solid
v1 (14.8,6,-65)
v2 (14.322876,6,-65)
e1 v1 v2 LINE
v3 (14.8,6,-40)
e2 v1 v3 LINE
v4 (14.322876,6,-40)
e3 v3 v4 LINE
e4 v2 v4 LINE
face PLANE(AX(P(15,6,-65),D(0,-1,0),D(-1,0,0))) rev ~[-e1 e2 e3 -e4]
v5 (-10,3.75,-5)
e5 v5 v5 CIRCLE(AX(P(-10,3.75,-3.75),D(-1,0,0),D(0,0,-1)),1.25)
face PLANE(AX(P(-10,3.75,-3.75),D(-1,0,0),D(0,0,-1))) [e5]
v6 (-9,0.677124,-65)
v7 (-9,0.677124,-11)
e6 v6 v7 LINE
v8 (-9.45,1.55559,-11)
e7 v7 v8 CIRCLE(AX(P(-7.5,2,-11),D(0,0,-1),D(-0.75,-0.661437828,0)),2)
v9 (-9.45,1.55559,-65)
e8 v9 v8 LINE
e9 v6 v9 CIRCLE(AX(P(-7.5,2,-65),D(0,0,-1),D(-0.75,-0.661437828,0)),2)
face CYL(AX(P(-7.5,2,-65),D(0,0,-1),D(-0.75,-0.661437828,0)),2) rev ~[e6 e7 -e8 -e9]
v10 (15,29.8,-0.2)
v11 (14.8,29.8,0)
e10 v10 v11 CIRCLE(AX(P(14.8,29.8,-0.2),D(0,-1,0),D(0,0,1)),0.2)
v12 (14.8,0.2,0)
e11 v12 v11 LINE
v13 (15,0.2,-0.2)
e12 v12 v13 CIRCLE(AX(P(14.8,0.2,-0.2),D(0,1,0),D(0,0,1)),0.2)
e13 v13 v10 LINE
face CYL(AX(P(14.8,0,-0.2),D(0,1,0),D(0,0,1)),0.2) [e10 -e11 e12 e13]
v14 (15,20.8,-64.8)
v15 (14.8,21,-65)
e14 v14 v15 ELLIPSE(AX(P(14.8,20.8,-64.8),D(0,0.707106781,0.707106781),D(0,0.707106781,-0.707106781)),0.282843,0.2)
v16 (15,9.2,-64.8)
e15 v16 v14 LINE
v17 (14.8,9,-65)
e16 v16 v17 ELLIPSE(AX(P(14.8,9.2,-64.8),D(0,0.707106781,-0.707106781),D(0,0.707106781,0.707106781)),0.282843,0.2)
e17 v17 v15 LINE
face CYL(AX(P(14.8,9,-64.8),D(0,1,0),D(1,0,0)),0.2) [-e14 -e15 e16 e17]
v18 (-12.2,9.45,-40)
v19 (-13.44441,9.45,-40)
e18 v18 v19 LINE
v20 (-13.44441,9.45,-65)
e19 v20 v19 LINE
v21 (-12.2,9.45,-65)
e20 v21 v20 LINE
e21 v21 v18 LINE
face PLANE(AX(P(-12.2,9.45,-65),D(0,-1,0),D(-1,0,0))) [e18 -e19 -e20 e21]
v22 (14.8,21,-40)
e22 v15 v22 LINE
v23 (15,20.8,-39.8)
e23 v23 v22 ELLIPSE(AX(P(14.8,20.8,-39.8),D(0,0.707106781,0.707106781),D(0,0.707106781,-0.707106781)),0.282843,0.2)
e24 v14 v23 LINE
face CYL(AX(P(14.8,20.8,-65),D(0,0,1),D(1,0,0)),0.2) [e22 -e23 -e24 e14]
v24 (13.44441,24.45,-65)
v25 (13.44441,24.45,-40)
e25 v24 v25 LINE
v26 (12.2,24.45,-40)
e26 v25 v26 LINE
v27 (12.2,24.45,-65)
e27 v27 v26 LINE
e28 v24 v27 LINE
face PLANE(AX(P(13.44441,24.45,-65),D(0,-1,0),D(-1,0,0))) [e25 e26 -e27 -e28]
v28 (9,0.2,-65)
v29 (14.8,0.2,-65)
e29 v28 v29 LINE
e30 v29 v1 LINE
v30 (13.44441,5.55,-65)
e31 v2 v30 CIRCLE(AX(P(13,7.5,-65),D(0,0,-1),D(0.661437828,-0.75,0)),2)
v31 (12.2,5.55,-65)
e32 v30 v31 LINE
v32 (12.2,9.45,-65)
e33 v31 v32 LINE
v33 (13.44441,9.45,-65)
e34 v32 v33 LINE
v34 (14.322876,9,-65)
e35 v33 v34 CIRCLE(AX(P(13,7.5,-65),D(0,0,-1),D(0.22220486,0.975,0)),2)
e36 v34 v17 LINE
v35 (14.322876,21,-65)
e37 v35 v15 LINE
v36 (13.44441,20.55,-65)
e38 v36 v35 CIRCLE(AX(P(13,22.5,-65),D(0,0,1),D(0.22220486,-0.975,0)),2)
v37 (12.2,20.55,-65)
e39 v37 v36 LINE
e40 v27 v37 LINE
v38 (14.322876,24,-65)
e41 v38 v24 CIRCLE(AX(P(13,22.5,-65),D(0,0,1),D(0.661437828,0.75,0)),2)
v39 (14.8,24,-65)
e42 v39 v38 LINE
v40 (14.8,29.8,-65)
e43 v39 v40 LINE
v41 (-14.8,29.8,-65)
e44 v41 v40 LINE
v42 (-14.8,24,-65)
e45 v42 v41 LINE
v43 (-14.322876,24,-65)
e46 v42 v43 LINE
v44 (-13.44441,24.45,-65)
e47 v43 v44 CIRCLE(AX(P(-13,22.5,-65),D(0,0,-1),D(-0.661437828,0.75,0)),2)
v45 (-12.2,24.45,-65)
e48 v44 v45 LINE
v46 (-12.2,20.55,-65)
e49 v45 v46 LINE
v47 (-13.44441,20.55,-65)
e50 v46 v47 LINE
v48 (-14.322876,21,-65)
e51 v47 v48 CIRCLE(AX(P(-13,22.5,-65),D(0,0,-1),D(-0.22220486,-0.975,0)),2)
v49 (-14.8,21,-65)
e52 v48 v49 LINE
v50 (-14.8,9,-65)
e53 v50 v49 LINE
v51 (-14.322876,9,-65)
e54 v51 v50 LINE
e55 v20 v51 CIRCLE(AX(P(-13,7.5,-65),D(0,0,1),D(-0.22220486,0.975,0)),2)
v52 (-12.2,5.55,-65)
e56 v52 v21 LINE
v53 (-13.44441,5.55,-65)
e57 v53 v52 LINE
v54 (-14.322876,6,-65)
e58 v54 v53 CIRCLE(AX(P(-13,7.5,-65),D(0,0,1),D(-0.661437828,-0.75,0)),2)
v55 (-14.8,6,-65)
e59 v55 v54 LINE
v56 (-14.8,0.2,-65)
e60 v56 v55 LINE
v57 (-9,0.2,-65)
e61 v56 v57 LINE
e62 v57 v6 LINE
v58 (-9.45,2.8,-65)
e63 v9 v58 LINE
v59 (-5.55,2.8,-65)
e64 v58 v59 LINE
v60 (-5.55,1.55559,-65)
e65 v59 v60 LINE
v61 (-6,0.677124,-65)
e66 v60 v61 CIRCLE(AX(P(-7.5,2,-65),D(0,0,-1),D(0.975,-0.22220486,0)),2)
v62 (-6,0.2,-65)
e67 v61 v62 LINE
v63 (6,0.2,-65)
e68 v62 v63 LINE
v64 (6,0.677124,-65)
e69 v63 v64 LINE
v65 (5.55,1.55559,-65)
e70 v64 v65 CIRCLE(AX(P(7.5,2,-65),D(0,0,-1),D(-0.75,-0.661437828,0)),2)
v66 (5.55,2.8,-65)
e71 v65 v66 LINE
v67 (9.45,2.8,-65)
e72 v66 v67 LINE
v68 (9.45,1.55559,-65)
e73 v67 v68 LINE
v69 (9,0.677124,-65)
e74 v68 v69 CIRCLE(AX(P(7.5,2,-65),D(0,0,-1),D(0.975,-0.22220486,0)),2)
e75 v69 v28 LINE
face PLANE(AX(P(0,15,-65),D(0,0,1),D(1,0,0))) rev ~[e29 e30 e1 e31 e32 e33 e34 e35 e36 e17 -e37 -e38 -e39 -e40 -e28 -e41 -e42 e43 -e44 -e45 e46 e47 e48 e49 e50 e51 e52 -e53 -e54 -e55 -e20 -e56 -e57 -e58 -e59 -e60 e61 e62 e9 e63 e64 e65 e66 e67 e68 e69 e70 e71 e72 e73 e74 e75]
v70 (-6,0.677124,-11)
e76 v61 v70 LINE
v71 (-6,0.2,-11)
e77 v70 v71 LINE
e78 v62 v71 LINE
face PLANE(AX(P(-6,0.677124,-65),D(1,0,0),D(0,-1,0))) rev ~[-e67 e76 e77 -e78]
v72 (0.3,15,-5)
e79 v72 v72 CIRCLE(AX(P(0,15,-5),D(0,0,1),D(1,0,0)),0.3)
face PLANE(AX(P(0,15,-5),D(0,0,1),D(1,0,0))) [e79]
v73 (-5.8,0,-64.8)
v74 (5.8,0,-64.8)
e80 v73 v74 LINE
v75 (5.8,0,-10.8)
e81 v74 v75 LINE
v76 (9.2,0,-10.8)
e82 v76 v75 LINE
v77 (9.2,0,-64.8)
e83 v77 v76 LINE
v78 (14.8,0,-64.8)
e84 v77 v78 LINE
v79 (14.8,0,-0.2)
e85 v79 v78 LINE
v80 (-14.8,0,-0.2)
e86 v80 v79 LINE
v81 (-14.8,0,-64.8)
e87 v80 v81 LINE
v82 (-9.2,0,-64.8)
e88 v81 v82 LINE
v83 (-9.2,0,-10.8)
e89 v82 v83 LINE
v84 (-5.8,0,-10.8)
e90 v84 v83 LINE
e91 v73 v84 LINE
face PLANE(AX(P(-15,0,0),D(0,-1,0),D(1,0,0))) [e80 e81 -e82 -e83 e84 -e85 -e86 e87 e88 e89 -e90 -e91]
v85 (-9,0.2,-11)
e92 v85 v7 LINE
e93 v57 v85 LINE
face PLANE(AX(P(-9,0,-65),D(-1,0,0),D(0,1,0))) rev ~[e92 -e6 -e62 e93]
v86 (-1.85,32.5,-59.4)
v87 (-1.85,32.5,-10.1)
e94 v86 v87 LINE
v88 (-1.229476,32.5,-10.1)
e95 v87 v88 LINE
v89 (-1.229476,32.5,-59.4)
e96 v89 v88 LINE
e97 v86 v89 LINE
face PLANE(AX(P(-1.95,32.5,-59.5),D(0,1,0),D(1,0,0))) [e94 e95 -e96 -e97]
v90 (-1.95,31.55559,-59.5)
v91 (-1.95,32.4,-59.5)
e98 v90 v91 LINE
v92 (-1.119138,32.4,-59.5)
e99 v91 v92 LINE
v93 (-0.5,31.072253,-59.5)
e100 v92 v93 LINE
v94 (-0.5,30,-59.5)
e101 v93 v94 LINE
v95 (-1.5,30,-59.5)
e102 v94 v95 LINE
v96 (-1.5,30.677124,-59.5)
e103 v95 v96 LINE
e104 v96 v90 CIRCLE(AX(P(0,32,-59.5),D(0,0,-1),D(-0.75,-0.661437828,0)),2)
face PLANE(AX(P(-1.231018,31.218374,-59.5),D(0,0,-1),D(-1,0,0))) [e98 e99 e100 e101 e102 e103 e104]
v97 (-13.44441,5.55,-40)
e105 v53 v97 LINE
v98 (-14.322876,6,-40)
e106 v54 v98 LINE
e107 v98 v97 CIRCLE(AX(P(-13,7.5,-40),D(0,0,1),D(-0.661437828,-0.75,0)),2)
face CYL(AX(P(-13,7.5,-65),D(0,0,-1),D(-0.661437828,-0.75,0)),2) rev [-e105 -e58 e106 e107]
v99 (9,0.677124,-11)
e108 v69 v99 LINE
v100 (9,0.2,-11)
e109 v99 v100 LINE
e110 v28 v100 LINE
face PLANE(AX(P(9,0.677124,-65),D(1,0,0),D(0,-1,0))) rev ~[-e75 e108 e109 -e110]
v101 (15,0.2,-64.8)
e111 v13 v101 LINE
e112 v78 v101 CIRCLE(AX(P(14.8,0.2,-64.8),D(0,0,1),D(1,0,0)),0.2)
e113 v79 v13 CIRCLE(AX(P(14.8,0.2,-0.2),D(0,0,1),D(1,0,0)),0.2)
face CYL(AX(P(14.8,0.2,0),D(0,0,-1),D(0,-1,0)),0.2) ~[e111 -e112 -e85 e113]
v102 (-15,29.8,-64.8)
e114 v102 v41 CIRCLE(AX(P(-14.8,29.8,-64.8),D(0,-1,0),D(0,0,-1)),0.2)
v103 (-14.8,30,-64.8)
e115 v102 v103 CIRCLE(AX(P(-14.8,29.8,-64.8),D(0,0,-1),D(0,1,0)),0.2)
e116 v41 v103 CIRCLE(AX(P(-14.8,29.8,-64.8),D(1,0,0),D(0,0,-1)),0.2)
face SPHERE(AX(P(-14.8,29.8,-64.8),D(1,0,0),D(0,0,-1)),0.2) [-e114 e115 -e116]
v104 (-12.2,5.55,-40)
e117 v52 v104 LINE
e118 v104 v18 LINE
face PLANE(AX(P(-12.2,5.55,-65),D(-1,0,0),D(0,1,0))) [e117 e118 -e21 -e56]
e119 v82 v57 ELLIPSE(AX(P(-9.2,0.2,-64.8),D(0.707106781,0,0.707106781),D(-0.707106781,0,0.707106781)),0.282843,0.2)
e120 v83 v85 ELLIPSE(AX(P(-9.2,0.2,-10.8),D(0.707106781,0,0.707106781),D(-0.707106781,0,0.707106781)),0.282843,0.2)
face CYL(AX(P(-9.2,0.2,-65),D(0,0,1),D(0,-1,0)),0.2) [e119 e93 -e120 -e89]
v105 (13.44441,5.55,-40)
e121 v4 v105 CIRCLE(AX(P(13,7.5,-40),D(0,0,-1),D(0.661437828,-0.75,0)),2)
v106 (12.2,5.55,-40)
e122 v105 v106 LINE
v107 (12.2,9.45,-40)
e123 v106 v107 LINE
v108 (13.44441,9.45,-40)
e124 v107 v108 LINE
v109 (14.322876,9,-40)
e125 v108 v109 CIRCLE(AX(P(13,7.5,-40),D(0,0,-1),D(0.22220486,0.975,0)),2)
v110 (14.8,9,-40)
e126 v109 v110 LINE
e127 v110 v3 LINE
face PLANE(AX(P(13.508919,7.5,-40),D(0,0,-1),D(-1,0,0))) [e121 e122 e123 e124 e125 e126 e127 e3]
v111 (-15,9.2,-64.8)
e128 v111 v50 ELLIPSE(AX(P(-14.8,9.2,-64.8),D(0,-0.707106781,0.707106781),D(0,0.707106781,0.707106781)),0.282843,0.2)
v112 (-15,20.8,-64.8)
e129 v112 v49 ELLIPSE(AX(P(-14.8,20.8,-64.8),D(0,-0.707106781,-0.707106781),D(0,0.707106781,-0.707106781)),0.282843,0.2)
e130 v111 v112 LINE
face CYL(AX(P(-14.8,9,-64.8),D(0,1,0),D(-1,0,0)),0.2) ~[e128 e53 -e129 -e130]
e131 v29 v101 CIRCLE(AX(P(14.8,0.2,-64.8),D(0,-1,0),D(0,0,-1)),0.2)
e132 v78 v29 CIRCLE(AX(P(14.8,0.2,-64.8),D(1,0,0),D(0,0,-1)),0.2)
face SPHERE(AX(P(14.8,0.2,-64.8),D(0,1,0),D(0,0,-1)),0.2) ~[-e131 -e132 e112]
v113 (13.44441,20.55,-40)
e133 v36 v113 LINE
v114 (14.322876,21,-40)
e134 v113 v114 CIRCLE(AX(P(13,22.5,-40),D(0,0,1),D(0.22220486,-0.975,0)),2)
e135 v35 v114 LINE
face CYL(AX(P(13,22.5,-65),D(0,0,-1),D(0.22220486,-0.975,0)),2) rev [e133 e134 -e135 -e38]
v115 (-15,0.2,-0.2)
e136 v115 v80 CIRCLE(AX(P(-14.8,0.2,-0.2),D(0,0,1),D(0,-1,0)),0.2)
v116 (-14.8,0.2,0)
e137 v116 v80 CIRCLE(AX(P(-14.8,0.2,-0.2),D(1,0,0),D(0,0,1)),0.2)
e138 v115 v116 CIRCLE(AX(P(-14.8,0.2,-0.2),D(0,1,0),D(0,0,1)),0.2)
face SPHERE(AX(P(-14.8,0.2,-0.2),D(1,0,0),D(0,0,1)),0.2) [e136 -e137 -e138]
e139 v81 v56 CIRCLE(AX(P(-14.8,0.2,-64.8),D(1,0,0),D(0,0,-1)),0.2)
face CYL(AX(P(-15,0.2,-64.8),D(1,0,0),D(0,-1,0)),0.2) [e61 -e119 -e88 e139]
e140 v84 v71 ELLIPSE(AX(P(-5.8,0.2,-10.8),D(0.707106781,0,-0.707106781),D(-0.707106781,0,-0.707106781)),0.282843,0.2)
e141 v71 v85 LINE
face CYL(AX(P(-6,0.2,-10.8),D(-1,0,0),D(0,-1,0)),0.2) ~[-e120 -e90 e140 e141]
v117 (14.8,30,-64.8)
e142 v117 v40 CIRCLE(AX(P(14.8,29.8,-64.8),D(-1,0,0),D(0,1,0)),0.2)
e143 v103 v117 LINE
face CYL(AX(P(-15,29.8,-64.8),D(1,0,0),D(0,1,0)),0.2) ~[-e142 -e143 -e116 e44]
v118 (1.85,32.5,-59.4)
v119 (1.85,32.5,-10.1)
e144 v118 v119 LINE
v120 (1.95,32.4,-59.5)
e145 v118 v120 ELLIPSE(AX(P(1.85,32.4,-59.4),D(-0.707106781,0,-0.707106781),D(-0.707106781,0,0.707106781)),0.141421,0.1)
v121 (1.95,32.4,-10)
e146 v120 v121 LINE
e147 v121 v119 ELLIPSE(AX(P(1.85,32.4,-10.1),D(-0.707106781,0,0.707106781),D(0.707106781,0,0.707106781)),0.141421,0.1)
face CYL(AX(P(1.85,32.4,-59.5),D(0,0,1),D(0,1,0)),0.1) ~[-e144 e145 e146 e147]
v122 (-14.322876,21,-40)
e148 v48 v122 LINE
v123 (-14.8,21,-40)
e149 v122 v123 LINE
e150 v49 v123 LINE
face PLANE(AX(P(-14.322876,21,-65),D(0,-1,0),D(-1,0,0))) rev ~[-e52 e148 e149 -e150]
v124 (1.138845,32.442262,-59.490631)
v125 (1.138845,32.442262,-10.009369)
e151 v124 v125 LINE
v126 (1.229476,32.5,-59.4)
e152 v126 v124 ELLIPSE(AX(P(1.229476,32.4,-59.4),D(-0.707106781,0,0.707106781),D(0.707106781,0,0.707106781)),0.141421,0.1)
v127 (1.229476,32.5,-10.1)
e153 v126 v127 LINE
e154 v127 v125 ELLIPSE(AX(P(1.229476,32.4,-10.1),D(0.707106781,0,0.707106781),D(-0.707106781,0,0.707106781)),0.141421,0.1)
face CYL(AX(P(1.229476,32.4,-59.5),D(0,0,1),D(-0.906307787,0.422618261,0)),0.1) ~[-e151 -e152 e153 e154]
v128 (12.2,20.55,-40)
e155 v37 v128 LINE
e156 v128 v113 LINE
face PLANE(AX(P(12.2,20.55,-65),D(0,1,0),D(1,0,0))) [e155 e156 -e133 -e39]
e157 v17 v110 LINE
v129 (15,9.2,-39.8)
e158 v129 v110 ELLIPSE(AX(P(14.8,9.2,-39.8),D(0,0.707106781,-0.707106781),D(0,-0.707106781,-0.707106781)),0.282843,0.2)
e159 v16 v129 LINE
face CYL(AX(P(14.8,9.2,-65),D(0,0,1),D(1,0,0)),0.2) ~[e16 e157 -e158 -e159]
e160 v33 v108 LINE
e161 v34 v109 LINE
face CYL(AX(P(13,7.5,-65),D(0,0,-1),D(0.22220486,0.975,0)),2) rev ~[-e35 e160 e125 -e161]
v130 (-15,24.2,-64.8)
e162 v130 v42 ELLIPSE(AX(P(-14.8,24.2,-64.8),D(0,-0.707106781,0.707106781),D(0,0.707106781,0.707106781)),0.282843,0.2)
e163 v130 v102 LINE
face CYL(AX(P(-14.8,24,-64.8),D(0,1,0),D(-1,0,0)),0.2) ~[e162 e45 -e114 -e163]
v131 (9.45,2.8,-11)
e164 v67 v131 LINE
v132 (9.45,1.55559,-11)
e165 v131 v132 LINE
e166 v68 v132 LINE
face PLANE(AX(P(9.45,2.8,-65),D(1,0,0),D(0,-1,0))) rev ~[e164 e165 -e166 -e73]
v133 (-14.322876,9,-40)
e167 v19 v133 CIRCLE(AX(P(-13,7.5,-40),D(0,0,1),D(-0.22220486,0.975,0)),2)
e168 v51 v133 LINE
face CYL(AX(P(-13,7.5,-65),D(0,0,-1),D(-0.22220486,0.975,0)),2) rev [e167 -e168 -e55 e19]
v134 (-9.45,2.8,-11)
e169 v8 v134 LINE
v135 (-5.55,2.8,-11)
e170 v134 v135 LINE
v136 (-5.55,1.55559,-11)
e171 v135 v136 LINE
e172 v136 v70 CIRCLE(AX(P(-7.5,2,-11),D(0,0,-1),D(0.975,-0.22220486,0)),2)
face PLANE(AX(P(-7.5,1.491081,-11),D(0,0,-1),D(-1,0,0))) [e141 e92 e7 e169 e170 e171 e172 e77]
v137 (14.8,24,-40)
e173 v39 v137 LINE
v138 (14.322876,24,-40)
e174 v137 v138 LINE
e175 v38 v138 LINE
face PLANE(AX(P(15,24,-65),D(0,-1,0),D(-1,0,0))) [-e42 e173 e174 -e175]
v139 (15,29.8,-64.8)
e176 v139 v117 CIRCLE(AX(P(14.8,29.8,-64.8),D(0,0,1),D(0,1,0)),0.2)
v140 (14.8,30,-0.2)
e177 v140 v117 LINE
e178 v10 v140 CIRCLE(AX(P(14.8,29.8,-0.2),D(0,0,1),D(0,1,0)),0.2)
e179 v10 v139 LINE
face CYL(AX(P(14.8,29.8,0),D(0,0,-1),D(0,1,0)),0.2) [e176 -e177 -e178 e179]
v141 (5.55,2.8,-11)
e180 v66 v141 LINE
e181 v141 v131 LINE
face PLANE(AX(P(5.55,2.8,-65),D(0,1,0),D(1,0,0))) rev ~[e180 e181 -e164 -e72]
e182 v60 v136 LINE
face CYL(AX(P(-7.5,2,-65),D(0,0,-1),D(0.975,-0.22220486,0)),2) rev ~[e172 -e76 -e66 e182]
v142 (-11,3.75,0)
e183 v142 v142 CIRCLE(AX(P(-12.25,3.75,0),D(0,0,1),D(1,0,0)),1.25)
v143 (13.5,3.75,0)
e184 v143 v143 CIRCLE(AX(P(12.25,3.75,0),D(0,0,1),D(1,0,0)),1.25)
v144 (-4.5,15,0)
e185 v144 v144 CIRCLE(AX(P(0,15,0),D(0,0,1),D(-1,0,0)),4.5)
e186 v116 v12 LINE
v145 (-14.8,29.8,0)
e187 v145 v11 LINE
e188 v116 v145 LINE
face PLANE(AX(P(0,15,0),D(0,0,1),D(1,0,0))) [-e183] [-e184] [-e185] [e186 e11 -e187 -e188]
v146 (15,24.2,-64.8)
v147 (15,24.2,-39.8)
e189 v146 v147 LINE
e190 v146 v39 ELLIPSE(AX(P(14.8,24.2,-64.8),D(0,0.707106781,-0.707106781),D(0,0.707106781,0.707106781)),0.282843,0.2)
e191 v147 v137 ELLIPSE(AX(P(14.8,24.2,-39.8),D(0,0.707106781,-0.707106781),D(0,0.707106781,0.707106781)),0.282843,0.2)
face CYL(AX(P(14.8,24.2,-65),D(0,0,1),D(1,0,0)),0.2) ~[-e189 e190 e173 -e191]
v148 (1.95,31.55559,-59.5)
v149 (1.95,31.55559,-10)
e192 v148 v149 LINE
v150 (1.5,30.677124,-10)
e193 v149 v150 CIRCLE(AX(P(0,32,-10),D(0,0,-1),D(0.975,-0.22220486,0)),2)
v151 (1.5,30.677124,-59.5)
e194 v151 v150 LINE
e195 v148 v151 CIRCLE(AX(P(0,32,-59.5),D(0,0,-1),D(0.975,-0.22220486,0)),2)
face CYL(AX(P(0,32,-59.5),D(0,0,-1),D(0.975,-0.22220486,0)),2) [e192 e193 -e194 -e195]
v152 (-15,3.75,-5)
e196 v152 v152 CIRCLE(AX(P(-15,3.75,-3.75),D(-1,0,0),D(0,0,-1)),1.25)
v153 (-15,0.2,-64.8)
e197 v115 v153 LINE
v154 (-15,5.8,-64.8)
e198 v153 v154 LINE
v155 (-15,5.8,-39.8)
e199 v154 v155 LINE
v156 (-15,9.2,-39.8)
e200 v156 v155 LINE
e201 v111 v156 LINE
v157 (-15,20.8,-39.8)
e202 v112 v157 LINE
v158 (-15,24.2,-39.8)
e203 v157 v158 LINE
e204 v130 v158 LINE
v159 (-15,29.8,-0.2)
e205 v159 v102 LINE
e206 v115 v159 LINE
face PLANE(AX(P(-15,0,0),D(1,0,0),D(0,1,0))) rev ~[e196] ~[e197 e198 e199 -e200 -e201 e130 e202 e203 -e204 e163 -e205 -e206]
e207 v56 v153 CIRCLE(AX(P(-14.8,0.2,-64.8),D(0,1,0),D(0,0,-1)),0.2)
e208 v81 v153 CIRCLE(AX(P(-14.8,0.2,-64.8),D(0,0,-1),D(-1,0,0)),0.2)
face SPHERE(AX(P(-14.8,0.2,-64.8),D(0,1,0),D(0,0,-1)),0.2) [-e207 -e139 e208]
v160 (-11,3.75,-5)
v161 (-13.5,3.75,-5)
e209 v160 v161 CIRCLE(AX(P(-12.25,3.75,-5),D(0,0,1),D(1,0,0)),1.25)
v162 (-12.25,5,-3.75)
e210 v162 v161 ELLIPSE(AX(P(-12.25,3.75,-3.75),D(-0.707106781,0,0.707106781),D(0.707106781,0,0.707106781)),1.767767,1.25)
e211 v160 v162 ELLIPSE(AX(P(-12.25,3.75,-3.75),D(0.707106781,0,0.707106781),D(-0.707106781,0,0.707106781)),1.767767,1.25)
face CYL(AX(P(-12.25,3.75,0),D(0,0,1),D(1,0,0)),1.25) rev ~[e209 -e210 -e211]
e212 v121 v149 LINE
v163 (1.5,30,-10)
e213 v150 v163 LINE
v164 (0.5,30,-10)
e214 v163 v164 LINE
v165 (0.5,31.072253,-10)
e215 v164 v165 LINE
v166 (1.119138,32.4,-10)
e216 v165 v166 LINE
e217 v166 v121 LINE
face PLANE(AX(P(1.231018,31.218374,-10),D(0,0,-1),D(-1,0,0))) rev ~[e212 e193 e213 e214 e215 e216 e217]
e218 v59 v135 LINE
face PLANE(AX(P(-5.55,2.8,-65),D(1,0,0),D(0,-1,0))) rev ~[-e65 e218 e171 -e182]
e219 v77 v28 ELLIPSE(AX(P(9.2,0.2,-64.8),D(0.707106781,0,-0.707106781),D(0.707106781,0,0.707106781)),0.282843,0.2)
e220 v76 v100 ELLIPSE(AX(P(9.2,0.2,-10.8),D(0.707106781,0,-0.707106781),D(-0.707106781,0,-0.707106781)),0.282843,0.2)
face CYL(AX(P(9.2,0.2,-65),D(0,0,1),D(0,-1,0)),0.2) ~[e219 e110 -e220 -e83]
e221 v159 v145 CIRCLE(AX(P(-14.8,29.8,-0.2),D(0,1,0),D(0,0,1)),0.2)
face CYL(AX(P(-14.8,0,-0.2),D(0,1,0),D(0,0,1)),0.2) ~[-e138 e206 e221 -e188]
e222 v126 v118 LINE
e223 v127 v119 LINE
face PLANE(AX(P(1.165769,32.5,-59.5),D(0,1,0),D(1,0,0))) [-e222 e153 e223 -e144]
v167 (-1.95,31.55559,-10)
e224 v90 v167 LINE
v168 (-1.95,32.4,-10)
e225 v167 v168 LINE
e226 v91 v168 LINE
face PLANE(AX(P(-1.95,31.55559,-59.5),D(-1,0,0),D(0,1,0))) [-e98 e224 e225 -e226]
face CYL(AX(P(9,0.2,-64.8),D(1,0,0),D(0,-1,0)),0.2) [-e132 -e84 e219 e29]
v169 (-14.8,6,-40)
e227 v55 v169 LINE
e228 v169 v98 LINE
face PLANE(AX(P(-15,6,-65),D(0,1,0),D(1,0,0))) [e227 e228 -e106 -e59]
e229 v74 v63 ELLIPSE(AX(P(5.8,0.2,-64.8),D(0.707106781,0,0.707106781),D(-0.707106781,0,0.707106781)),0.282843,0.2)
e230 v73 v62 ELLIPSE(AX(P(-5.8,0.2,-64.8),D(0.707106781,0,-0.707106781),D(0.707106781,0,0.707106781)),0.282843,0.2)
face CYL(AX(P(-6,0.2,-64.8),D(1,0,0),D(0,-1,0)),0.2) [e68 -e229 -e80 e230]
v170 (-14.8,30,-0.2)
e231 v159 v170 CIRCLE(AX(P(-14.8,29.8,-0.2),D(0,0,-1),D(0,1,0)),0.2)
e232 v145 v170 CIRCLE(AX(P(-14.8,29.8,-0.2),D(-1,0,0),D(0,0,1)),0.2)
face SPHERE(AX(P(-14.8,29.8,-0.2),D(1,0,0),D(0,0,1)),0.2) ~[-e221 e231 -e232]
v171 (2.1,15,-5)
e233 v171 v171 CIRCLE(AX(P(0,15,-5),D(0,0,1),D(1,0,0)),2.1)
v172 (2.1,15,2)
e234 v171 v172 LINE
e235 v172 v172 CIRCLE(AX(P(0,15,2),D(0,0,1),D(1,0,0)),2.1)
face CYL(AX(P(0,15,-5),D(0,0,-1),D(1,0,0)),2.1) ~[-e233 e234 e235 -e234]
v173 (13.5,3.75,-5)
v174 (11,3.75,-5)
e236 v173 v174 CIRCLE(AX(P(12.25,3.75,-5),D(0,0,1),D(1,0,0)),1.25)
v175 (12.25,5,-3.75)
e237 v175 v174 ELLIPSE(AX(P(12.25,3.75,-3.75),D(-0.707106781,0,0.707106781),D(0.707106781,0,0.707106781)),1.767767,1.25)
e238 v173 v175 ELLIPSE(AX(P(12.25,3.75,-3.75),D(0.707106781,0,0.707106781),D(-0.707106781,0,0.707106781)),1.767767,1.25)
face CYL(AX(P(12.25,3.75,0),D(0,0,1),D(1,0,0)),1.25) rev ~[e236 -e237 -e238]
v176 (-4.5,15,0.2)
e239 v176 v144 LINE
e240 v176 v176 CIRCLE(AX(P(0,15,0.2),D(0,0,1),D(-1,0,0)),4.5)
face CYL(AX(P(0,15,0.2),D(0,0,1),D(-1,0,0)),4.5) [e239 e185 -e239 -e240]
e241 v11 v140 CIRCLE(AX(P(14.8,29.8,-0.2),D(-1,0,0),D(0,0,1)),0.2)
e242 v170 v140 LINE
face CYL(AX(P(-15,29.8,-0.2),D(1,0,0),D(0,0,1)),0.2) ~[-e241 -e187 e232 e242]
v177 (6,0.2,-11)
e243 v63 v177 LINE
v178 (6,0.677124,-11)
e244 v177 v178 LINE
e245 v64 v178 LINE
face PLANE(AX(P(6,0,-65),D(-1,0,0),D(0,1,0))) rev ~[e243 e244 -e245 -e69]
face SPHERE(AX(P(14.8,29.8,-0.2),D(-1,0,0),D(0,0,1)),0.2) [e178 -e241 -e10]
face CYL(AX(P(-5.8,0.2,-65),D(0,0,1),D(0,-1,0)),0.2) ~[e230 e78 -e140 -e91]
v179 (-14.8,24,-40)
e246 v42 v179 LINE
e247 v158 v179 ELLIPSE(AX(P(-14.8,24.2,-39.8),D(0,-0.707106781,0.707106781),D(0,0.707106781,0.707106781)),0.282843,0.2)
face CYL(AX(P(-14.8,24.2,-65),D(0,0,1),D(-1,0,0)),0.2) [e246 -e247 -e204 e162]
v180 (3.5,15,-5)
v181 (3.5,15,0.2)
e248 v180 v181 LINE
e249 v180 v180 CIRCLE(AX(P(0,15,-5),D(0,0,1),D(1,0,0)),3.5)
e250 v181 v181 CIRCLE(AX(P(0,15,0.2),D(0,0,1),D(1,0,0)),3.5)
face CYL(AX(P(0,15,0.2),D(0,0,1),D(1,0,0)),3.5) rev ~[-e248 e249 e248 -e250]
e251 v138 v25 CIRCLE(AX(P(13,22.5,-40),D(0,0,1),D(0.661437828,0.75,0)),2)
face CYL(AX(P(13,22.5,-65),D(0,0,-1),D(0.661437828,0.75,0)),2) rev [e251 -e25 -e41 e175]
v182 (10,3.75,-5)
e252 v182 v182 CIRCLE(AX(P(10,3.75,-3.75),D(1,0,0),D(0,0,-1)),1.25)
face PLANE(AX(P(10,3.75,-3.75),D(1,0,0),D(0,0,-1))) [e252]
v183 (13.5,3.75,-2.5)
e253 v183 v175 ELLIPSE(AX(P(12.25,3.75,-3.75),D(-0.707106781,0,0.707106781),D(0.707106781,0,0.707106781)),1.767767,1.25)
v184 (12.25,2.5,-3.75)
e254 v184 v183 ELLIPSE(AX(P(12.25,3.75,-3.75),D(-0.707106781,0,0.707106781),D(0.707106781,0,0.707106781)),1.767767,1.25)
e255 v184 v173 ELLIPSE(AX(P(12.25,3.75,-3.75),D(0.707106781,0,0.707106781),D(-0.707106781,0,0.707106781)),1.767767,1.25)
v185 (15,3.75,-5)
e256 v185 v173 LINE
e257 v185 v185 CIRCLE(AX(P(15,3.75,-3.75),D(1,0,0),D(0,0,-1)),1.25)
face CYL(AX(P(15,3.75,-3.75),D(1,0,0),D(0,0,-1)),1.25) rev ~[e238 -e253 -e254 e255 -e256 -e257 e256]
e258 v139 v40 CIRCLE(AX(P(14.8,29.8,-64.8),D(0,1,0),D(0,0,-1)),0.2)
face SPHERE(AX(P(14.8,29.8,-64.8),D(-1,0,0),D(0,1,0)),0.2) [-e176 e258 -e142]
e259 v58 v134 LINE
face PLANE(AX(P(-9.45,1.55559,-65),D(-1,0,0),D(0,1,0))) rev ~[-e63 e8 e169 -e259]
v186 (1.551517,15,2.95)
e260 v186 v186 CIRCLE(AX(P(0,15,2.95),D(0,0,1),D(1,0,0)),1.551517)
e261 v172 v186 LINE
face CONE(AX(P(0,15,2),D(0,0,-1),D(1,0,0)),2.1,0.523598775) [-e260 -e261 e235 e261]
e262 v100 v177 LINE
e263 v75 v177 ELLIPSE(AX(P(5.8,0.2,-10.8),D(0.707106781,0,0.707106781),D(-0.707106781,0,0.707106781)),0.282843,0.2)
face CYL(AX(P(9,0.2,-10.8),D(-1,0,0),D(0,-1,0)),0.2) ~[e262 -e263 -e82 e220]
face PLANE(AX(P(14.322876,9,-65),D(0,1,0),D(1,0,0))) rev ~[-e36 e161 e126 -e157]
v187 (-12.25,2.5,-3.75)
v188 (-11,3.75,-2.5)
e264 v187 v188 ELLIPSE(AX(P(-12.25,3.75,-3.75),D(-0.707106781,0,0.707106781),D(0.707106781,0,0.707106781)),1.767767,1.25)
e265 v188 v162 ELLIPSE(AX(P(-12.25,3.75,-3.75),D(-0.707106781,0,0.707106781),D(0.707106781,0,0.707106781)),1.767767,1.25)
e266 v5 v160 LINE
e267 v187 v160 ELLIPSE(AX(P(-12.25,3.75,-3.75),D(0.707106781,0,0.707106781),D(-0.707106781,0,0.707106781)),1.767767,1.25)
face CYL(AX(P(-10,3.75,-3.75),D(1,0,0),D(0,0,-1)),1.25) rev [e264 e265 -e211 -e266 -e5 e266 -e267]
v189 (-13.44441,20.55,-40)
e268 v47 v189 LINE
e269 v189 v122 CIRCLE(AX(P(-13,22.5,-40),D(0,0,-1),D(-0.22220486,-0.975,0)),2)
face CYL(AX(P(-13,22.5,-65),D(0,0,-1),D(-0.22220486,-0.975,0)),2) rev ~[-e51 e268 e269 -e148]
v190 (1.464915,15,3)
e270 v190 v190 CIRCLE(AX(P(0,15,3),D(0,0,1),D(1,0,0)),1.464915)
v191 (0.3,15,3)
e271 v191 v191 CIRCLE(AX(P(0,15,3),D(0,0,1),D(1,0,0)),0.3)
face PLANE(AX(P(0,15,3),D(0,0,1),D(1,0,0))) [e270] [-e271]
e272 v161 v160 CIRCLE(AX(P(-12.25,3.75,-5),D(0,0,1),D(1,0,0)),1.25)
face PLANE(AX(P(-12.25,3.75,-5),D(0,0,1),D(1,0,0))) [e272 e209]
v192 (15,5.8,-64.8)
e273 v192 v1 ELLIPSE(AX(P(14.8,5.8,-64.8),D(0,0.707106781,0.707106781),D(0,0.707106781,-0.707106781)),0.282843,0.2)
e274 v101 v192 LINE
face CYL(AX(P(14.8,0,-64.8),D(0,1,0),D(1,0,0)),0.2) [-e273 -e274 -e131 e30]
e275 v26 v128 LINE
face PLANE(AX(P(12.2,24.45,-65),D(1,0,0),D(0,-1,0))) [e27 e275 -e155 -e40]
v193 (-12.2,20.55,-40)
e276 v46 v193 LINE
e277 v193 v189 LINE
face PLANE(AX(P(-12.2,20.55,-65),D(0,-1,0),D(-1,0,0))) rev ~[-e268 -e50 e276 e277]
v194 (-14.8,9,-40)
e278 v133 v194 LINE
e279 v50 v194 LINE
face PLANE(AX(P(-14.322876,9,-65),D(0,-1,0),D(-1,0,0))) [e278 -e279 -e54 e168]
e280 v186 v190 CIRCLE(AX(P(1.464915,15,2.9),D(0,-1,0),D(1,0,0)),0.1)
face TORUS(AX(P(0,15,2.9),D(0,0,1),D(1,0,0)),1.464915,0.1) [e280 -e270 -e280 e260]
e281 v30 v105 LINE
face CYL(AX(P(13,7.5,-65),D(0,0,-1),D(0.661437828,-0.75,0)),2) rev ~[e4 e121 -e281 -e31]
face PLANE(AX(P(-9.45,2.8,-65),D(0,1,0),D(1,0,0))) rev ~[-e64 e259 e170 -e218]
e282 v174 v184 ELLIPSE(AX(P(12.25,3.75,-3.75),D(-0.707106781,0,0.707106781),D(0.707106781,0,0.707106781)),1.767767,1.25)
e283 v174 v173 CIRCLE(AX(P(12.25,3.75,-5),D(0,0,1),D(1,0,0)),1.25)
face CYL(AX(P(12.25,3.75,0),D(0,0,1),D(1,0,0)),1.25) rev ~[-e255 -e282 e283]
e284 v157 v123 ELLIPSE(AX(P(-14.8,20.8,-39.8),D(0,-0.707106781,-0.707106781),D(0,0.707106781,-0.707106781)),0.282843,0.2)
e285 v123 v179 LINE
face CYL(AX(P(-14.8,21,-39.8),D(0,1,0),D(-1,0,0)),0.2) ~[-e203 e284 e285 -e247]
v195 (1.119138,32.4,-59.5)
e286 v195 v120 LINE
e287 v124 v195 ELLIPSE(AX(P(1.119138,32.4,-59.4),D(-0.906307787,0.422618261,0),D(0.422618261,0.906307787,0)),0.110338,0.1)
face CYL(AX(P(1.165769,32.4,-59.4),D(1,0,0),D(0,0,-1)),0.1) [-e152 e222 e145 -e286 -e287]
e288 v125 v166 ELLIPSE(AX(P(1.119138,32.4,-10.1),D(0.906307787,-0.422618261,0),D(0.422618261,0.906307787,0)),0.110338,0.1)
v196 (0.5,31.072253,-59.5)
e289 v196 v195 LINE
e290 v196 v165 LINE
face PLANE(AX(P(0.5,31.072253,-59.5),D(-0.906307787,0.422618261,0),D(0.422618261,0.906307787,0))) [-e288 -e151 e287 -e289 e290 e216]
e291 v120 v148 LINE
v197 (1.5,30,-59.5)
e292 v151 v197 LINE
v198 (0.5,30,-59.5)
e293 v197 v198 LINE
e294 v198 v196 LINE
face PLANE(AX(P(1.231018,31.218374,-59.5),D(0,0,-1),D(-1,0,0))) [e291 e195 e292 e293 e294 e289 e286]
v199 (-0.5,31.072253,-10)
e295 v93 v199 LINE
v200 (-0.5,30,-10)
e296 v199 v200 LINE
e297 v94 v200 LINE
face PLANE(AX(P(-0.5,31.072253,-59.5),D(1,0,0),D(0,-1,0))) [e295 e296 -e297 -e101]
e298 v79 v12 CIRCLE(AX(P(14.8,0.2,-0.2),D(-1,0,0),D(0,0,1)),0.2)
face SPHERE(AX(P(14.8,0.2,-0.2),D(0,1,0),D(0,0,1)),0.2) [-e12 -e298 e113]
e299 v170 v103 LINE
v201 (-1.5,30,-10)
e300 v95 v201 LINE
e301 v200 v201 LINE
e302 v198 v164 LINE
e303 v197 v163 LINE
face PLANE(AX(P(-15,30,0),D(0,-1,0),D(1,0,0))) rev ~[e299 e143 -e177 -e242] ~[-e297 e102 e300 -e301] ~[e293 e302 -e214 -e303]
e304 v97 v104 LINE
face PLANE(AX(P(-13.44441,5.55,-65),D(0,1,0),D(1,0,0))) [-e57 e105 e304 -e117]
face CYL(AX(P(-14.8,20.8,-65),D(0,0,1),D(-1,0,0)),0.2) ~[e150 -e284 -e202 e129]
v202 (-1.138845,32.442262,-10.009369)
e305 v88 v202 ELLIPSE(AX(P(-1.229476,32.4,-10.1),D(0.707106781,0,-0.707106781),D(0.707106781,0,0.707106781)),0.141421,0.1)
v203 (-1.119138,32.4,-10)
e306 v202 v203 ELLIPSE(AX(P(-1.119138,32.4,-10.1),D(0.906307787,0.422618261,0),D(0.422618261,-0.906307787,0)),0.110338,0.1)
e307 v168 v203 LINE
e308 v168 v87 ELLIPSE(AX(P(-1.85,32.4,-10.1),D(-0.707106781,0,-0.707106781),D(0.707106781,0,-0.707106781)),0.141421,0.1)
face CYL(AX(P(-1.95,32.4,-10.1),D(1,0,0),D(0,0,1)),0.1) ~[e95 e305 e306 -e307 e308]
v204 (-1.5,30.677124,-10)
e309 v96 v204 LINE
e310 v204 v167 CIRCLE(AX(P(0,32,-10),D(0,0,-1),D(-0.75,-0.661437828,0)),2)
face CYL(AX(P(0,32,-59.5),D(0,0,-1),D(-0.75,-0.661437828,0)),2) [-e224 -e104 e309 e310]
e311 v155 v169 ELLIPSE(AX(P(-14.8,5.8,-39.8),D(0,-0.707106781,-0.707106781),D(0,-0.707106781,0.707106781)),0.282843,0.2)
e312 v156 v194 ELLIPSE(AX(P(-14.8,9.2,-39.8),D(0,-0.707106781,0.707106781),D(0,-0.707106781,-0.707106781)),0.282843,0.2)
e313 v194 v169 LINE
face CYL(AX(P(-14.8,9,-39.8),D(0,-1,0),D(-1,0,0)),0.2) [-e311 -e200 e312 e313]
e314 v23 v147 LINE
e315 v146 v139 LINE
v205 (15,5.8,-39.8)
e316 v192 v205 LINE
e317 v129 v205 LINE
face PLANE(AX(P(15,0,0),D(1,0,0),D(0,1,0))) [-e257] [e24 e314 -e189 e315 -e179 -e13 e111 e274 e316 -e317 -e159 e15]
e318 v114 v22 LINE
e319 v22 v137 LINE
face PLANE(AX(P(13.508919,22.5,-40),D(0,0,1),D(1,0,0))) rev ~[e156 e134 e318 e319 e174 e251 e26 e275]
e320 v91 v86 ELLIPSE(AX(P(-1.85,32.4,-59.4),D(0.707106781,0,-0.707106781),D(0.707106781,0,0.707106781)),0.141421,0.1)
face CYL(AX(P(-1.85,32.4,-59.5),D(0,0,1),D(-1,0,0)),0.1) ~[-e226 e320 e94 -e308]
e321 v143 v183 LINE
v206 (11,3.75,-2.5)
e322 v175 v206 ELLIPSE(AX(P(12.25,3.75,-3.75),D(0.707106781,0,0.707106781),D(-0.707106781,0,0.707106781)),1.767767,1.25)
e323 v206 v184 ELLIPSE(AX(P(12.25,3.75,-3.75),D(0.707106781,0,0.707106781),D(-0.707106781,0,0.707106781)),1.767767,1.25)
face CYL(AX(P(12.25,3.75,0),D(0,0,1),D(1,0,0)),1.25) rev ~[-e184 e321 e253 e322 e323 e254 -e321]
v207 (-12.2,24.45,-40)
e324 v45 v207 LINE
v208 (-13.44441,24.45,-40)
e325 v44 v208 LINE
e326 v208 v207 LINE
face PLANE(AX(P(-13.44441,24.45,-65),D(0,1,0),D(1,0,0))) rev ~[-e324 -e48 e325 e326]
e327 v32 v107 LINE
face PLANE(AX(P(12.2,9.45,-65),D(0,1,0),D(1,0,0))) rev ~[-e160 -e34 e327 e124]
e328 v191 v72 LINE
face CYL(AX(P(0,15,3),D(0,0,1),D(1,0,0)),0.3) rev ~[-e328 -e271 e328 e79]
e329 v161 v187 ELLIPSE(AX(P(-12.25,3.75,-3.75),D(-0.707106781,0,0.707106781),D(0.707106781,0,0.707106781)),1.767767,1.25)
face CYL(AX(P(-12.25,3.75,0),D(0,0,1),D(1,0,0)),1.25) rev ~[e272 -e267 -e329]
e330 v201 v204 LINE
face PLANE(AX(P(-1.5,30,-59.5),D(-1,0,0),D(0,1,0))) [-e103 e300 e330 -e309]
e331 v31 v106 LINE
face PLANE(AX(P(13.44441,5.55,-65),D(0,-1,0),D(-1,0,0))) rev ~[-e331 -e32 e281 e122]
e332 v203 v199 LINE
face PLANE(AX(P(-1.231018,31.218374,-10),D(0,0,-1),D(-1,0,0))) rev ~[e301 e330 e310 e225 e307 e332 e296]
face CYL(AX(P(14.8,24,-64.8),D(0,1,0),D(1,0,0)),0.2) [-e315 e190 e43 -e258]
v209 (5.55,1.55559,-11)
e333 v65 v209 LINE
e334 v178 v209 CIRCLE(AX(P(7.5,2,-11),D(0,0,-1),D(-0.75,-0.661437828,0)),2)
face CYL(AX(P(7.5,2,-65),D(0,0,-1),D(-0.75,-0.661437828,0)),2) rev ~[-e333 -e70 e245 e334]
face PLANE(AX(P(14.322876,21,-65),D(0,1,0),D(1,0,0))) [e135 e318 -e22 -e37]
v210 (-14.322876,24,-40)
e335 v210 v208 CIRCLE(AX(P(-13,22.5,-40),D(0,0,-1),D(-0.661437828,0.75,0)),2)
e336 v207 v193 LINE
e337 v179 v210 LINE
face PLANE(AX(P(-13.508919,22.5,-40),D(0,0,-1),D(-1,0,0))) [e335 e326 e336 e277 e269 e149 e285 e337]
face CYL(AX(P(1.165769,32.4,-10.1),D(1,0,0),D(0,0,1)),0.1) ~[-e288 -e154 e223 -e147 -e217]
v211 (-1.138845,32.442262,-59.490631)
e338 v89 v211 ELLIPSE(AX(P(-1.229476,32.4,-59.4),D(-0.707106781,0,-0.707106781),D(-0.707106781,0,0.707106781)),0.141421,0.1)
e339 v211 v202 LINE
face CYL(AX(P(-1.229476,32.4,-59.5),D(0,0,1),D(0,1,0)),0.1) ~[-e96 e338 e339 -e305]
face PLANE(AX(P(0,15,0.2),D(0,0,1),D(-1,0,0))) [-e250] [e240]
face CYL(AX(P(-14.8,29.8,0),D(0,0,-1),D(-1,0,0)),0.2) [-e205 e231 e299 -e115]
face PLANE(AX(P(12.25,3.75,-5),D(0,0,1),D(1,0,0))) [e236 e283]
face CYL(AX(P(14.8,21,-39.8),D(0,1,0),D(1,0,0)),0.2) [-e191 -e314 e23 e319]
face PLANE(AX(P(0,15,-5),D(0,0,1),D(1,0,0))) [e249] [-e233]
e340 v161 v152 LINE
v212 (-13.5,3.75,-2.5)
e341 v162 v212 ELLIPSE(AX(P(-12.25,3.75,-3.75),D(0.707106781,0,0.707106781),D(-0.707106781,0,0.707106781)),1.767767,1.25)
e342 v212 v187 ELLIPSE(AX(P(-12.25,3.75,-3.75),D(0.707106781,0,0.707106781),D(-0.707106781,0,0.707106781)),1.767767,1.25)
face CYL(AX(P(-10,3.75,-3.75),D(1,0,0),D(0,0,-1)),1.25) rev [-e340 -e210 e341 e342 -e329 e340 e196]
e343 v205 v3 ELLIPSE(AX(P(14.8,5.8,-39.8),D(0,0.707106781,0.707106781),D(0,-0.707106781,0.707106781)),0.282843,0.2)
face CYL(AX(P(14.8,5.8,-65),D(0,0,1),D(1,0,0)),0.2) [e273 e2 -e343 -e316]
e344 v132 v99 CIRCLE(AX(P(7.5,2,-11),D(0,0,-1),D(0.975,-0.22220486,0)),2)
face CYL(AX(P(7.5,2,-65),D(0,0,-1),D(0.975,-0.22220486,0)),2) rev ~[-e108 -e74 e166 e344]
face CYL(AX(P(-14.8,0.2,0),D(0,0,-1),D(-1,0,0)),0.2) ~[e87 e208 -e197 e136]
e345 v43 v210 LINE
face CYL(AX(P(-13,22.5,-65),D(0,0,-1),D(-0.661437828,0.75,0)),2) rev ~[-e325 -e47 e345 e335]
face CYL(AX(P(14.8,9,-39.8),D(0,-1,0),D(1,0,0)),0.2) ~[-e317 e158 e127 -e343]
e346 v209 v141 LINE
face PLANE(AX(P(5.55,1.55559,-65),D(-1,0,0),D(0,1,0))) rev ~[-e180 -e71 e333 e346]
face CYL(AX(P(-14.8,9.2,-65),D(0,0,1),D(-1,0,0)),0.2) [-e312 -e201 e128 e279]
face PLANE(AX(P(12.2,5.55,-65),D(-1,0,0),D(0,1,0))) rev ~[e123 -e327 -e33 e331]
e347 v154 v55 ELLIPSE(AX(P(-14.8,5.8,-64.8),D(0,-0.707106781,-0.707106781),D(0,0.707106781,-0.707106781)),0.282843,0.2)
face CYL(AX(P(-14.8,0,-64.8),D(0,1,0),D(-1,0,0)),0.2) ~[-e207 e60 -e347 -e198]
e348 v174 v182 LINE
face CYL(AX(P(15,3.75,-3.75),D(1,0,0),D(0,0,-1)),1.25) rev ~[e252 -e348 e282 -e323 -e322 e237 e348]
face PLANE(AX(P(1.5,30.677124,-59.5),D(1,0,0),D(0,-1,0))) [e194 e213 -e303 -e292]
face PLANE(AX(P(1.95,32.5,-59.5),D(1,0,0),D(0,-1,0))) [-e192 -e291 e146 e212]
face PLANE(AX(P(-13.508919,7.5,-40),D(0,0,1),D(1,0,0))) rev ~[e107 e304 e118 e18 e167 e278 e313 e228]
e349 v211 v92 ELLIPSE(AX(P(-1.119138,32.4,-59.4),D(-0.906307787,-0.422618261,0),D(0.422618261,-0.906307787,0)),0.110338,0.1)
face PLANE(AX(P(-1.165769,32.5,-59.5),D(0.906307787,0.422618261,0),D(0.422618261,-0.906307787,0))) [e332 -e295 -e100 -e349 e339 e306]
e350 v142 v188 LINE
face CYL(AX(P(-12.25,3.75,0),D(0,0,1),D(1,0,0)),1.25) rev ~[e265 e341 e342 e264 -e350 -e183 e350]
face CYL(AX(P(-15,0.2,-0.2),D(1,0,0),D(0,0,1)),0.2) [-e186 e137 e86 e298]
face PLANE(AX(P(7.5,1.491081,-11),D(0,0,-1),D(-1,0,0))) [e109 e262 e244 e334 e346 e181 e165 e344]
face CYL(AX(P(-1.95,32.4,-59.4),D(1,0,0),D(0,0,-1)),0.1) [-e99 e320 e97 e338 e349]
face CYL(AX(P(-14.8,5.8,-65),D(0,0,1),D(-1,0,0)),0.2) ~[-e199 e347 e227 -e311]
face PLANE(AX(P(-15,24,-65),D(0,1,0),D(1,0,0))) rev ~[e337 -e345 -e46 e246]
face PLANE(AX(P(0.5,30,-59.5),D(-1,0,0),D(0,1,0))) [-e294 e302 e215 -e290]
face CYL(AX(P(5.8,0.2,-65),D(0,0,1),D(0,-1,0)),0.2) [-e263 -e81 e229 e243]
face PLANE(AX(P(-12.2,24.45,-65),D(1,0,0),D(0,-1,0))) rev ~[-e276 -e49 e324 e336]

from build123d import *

# Parameters (mm, degrees)
SKETCH_1_W          = 30
SKETCH_1_H          = 30
EXTRUDE_1_DEPTH     = 65
CUT_EXTRUDE_1_DEPTH = 54
CUT_EXTRUDE_2_DEPTH = 25
EXTRUDE_START       = -5.5
EXTRUDE_2_DEPTH     = 49.5
FILLET_1_R          = 0.1
SKETCH_6_R          = 3.5
CUT_EXTRUDE_3_DEPTH = 5
EXTRUDE_START_2     = 0.2
SKETCH_7_R          = 4.5
SKETCH_7_R_2        = 3.5
EXTRUDE_3_DEPTH     = 0.2
SKETCH_8_R          = 2.1
EXTRUDE_4_DEPTH     = 8
SKETCH_9_R          = 0.3
CUT_EXTRUDE_4_DEPTH = 8
CHAMFER_1_SIZE      = 1
CHAMFER_1_SIZE2     = 0.577350269
FILLET_2_R          = 0.1
FILLET_3_R          = 0.2
SKETCH_10_R         = 1.25
CUT_EXTRUDE_5_DEPTH = 5
SKETCH_11_R         = 1.25
CUT_EXTRUDE_6_DEPTH = 5
CUT_EXTRUDE_START   = -5
SKETCH_12_R         = 1.25
CUT_EXTRUDE_7_DEPTH = 5


with BuildPart() as part:
    # 草图1 → 凸台-拉伸1 (new body)
    with BuildSketch(Plane.XY):
        with Locations((0, 15)):
            Rectangle(SKETCH_1_W, SKETCH_1_H)
    extrude(amount=-EXTRUDE_1_DEPTH)

    # 草图2 → 切除-拉伸1 (cut)
    with BuildSketch(Plane(origin=(0, 0, -65), x_dir=(-1, 0, 0), z_dir=(0, 0, -1))):
        with BuildLine():
            Line((-9, 0.677124344), (-9, 0))
            Line((-9, 0), (-6, 0))
            Line((-6, 0), (-6, 0.677124344))
            ThreePointArc((-6, 0.677124344), (-5.719957697, 1.088161527), (-5.55, 1.555590279))
            Line((-5.55, 1.555590279), (-5.55, 2.8))
            Line((-5.55, 2.8), (-9.45, 2.8))
            Line((-9.45, 2.8), (-9.45, 1.555590279))
            ThreePointArc((-9.45, 1.555590279), (-9.280042303, 1.088161527), (-9, 0.677124344))
        make_face()
        with BuildLine():
            Line((5.55, 2.8), (5.55, 1.555590279))
            ThreePointArc((5.55, 1.555590279), (5.719957697, 1.088161527), (6, 0.677124344))
            Line((6, 0.677124344), (6, 0))
            Line((6, 0), (9, 0))
            Line((9, 0), (9, 0.677124344))
            ThreePointArc((9, 0.677124344), (9.280042303, 1.088161527), (9.45, 1.555590279))
            Line((9.45, 1.555590279), (9.45, 2.8))
            Line((9.45, 2.8), (5.55, 2.8))
        make_face()
    extrude(amount=-CUT_EXTRUDE_1_DEPTH, mode=Mode.SUBTRACT)

    # 草图3 → 切除-拉伸2 (cut)
    with BuildSketch(Plane(origin=(0, 0, -65), x_dir=(-1, 0, 0), z_dir=(0, 0, -1))):
        with BuildLine():
            Line((-14.322875656, 9), (-15, 9))
            Line((-15, 9), (-15, 6))
            Line((-15, 6), (-14.322875656, 6))
            ThreePointArc((-14.322875656, 6), (-13.911838473, 5.719957697), (-13.444409721, 5.55))
            Line((-13.444409721, 5.55), (-12.2, 5.55))
            Line((-12.2, 5.55), (-12.2, 9.45))
            Line((-12.2, 9.45), (-13.444409721, 9.45))
            ThreePointArc((-13.444409721, 9.45), (-13.911838473, 9.280042303), (-14.322875656, 9))
        make_face()
        with BuildLine():
            Line((-12.2, 20.55), (-13.444409721, 20.55))
            ThreePointArc((-13.444409721, 20.55), (-13.911838473, 20.719957697), (-14.322875656, 21))
            Line((-14.322875656, 21), (-15, 21))
            Line((-15, 21), (-15, 24))
            Line((-15, 24), (-14.322875656, 24))
            ThreePointArc((-14.322875656, 24), (-13.911838473, 24.280042303), (-13.444409721, 24.45))
            Line((-13.444409721, 24.45), (-12.2, 24.45))
            Line((-12.2, 24.45), (-12.2, 20.55))
        make_face()
        with BuildLine():
            Line((14.322875656, 21), (15, 21))
            Line((15, 21), (15, 24))
            Line((15, 24), (14.322875656, 24))
            ThreePointArc((14.322875656, 24), (13.911838473, 24.280042303), (13.444409721, 24.45))
            Line((13.444409721, 24.45), (12.2, 24.45))
            Line((12.2, 24.45), (12.2, 20.55))
            Line((12.2, 20.55), (13.444409721, 20.55))
            ThreePointArc((13.444409721, 20.55), (13.911838473, 20.719957697), (14.322875656, 21))
        make_face()
        with BuildLine():
            Line((12.2, 9.45), (13.444409721, 9.45))
            ThreePointArc((13.444409721, 9.45), (13.911838473, 9.280042303), (14.322875656, 9))
            Line((14.322875656, 9), (15, 9))
            Line((15, 9), (15, 6))
            Line((15, 6), (14.322875656, 6))
            ThreePointArc((14.322875656, 6), (13.911838473, 5.719957697), (13.444409721, 5.55))
            Line((13.444409721, 5.55), (12.2, 5.55))
            Line((12.2, 5.55), (12.2, 9.45))
        make_face()
    extrude(amount=-CUT_EXTRUDE_2_DEPTH, mode=Mode.SUBTRACT)

    # 草图5 → 凸台-拉伸2 (add)
    with BuildSketch(Plane(origin=(0, 0, -65), x_dir=(-1, 0, 0), z_dir=(0, 0, -1)).offset(EXTRUDE_START)):
        with BuildLine():
            Line((-1.5, 30.677124344), (-1.5, 30))
            Line((-1.5, 30), (-0.5, 30))
            Line((-0.5, 30), (-0.5, 31.07225346))
            Line((-0.5, 31.07225346), (-1.165769145, 32.5))
            Line((-1.165769145, 32.5), (-1.95, 32.5))
            Line((-1.95, 32.5), (-1.95, 31.555590279))
            ThreePointArc((-1.95, 31.555590279), (-1.780042303, 31.088161527), (-1.5, 30.677124344))
        make_face()
        with BuildLine():
            Line((1.5, 30), (1.5, 30.677124344))
            ThreePointArc((1.5, 30.677124344), (1.780042303, 31.088161527), (1.95, 31.555590279))
            Line((1.95, 31.555590279), (1.95, 32.5))
            Line((1.95, 32.5), (1.165769145, 32.5))
            Line((1.165769145, 32.5), (0.5, 31.07225346))
            Line((0.5, 31.07225346), (0.5, 30))
            Line((0.5, 30), (1.5, 30))
        make_face()
    extrude(amount=-EXTRUDE_2_DEPTH)

    # 圆角1
    fillet_1_edges = [part.edges().sort_by_distance(p)[0] for p in [
        (1.557884573, 32.5, -10),
        (1.95, 32.5, -34.75),
        (1.165769145, 32.5, -34.75),
        (1.557884573, 32.5, -59.5),
        (-1.557884573, 32.5, -10),
        (-1.165769145, 32.5, -34.75),
        (-1.95, 32.5, -34.75),
        (-1.557884573, 32.5, -59.5),
    ]]
    fillet(fillet_1_edges, radius=FILLET_1_R)

    # 草图6 → 切除-拉伸3 (cut)
    with BuildSketch(Plane.XY):
        with Locations((0, 15)):
            Circle(SKETCH_6_R)
    extrude(amount=-CUT_EXTRUDE_3_DEPTH, mode=Mode.SUBTRACT)

    # 草图7 → 凸台-拉伸3 (add)
    with BuildSketch(Plane.XY.offset(EXTRUDE_START_2)):
        with Locations(Location((0, 15, 0), (0, 0, 180))):
            Circle(SKETCH_7_R)
        with Locations((0, 15)):
            Circle(SKETCH_7_R_2, mode=Mode.SUBTRACT)
    extrude(amount=-EXTRUDE_3_DEPTH)

    # 草图8 → 凸台-拉伸4 (add)
    with BuildSketch(Plane.XY.offset(-5)):
        with Locations((0, 15)):
            Circle(SKETCH_8_R)
    extrude(amount=EXTRUDE_4_DEPTH)

    # 草图9 → 切除-拉伸4 (cut)
    with BuildSketch(Plane.XY.offset(3)):
        with Locations((0, 15)):
            Circle(SKETCH_9_R)
    extrude(amount=-CUT_EXTRUDE_4_DEPTH, mode=Mode.SUBTRACT)

    # 倒角1
    chamfer_1_edges = [part.edges().sort_by_distance(p)[0] for p in [
        (-2.1, 15, 3),
    ]]
    chamfer_1_side = [part.faces().sort_by_distance(p)[0] for p in [
        (-2.1, 15, -1),
    ]]
    chamfer(chamfer_1_edges, length=CHAMFER_1_SIZE, length2=CHAMFER_1_SIZE2, reference=chamfer_1_side[0])

    # 圆角2
    fillet_2_edges = [part.edges().sort_by_distance(p)[0] for p in [
        (-1.522649731, 15, 3),
    ]]
    fillet(fillet_2_edges, radius=FILLET_2_R)

    # 圆角3
    fillet_3_edges = [part.edges().sort_by_distance(p)[0] for p in [
        (15, 3, -65),
        (-15, 15, -65),
        (-15, 22.5, -40),
        (-15, 24, -52.5),
        (-15, 21, -52.5),
        (-15, 3, -65),
        (0, 30, -65),
        (-15, 7.5, -40),
        (-15, 9, -52.5),
        (-15, 6, -52.5),
        (12, 0, -65),
        (7.5, 0, -11),
        (6, 0, -38),
        (9, 0, -38),
        (0, 0, -65),
        (-15, 27, -65),
        (-7.5, 0, -11),
        (-9, 0, -38),
        (-6, 0, -38),
        (0, 30, 0),
        (15, 15, 0),
        (0, 0, 0),
        (-15, 15, 0),
        (15, 15, -65),
        (-12, 0, -65),
        (15, 7.5, -40),
        (15, 6, -52.5),
        (15, 9, -52.5),
        (-15, 30, -32.5),
        (15, 30, -32.5),
        (15, 0, -32.5),
        (-15, 0, -32.5),
        (15, 27, -65),
        (15, 22.5, -40),
        (15, 21, -52.5),
        (15, 24, -52.5),
    ]]
    fillet(fillet_3_edges, radius=FILLET_3_R)

    # 草图10 → 切除-拉伸5 (cut)
    with BuildSketch(Plane.XY):
        with Locations((-12.25, 3.75)):
            Circle(SKETCH_10_R)
        with Locations((12.25, 3.75)):
            Circle(SKETCH_10_R)
    extrude(amount=-CUT_EXTRUDE_5_DEPTH, mode=Mode.SUBTRACT)

    # 草图11 → 切除-拉伸6 (cut)
    with BuildSketch(Plane(origin=(15, 0, 0), x_dir=(0, 0, -1), z_dir=(1, 0, 0))):
        with Locations((3.75, 3.75)):
            Circle(SKETCH_11_R)
    extrude(amount=-CUT_EXTRUDE_6_DEPTH, mode=Mode.SUBTRACT)

    # 草图12 → 切除-拉伸7 (cut)
    with BuildSketch(Plane.ZY.offset(15).offset(CUT_EXTRUDE_START)):
        with Locations(Location((-3.75, 3.75, 0), (0, 0, 180))):
            Circle(SKETCH_12_R)
    extrude(amount=CUT_EXTRUDE_7_DEPTH, mode=Mode.SUBTRACT)


solid = part.part
